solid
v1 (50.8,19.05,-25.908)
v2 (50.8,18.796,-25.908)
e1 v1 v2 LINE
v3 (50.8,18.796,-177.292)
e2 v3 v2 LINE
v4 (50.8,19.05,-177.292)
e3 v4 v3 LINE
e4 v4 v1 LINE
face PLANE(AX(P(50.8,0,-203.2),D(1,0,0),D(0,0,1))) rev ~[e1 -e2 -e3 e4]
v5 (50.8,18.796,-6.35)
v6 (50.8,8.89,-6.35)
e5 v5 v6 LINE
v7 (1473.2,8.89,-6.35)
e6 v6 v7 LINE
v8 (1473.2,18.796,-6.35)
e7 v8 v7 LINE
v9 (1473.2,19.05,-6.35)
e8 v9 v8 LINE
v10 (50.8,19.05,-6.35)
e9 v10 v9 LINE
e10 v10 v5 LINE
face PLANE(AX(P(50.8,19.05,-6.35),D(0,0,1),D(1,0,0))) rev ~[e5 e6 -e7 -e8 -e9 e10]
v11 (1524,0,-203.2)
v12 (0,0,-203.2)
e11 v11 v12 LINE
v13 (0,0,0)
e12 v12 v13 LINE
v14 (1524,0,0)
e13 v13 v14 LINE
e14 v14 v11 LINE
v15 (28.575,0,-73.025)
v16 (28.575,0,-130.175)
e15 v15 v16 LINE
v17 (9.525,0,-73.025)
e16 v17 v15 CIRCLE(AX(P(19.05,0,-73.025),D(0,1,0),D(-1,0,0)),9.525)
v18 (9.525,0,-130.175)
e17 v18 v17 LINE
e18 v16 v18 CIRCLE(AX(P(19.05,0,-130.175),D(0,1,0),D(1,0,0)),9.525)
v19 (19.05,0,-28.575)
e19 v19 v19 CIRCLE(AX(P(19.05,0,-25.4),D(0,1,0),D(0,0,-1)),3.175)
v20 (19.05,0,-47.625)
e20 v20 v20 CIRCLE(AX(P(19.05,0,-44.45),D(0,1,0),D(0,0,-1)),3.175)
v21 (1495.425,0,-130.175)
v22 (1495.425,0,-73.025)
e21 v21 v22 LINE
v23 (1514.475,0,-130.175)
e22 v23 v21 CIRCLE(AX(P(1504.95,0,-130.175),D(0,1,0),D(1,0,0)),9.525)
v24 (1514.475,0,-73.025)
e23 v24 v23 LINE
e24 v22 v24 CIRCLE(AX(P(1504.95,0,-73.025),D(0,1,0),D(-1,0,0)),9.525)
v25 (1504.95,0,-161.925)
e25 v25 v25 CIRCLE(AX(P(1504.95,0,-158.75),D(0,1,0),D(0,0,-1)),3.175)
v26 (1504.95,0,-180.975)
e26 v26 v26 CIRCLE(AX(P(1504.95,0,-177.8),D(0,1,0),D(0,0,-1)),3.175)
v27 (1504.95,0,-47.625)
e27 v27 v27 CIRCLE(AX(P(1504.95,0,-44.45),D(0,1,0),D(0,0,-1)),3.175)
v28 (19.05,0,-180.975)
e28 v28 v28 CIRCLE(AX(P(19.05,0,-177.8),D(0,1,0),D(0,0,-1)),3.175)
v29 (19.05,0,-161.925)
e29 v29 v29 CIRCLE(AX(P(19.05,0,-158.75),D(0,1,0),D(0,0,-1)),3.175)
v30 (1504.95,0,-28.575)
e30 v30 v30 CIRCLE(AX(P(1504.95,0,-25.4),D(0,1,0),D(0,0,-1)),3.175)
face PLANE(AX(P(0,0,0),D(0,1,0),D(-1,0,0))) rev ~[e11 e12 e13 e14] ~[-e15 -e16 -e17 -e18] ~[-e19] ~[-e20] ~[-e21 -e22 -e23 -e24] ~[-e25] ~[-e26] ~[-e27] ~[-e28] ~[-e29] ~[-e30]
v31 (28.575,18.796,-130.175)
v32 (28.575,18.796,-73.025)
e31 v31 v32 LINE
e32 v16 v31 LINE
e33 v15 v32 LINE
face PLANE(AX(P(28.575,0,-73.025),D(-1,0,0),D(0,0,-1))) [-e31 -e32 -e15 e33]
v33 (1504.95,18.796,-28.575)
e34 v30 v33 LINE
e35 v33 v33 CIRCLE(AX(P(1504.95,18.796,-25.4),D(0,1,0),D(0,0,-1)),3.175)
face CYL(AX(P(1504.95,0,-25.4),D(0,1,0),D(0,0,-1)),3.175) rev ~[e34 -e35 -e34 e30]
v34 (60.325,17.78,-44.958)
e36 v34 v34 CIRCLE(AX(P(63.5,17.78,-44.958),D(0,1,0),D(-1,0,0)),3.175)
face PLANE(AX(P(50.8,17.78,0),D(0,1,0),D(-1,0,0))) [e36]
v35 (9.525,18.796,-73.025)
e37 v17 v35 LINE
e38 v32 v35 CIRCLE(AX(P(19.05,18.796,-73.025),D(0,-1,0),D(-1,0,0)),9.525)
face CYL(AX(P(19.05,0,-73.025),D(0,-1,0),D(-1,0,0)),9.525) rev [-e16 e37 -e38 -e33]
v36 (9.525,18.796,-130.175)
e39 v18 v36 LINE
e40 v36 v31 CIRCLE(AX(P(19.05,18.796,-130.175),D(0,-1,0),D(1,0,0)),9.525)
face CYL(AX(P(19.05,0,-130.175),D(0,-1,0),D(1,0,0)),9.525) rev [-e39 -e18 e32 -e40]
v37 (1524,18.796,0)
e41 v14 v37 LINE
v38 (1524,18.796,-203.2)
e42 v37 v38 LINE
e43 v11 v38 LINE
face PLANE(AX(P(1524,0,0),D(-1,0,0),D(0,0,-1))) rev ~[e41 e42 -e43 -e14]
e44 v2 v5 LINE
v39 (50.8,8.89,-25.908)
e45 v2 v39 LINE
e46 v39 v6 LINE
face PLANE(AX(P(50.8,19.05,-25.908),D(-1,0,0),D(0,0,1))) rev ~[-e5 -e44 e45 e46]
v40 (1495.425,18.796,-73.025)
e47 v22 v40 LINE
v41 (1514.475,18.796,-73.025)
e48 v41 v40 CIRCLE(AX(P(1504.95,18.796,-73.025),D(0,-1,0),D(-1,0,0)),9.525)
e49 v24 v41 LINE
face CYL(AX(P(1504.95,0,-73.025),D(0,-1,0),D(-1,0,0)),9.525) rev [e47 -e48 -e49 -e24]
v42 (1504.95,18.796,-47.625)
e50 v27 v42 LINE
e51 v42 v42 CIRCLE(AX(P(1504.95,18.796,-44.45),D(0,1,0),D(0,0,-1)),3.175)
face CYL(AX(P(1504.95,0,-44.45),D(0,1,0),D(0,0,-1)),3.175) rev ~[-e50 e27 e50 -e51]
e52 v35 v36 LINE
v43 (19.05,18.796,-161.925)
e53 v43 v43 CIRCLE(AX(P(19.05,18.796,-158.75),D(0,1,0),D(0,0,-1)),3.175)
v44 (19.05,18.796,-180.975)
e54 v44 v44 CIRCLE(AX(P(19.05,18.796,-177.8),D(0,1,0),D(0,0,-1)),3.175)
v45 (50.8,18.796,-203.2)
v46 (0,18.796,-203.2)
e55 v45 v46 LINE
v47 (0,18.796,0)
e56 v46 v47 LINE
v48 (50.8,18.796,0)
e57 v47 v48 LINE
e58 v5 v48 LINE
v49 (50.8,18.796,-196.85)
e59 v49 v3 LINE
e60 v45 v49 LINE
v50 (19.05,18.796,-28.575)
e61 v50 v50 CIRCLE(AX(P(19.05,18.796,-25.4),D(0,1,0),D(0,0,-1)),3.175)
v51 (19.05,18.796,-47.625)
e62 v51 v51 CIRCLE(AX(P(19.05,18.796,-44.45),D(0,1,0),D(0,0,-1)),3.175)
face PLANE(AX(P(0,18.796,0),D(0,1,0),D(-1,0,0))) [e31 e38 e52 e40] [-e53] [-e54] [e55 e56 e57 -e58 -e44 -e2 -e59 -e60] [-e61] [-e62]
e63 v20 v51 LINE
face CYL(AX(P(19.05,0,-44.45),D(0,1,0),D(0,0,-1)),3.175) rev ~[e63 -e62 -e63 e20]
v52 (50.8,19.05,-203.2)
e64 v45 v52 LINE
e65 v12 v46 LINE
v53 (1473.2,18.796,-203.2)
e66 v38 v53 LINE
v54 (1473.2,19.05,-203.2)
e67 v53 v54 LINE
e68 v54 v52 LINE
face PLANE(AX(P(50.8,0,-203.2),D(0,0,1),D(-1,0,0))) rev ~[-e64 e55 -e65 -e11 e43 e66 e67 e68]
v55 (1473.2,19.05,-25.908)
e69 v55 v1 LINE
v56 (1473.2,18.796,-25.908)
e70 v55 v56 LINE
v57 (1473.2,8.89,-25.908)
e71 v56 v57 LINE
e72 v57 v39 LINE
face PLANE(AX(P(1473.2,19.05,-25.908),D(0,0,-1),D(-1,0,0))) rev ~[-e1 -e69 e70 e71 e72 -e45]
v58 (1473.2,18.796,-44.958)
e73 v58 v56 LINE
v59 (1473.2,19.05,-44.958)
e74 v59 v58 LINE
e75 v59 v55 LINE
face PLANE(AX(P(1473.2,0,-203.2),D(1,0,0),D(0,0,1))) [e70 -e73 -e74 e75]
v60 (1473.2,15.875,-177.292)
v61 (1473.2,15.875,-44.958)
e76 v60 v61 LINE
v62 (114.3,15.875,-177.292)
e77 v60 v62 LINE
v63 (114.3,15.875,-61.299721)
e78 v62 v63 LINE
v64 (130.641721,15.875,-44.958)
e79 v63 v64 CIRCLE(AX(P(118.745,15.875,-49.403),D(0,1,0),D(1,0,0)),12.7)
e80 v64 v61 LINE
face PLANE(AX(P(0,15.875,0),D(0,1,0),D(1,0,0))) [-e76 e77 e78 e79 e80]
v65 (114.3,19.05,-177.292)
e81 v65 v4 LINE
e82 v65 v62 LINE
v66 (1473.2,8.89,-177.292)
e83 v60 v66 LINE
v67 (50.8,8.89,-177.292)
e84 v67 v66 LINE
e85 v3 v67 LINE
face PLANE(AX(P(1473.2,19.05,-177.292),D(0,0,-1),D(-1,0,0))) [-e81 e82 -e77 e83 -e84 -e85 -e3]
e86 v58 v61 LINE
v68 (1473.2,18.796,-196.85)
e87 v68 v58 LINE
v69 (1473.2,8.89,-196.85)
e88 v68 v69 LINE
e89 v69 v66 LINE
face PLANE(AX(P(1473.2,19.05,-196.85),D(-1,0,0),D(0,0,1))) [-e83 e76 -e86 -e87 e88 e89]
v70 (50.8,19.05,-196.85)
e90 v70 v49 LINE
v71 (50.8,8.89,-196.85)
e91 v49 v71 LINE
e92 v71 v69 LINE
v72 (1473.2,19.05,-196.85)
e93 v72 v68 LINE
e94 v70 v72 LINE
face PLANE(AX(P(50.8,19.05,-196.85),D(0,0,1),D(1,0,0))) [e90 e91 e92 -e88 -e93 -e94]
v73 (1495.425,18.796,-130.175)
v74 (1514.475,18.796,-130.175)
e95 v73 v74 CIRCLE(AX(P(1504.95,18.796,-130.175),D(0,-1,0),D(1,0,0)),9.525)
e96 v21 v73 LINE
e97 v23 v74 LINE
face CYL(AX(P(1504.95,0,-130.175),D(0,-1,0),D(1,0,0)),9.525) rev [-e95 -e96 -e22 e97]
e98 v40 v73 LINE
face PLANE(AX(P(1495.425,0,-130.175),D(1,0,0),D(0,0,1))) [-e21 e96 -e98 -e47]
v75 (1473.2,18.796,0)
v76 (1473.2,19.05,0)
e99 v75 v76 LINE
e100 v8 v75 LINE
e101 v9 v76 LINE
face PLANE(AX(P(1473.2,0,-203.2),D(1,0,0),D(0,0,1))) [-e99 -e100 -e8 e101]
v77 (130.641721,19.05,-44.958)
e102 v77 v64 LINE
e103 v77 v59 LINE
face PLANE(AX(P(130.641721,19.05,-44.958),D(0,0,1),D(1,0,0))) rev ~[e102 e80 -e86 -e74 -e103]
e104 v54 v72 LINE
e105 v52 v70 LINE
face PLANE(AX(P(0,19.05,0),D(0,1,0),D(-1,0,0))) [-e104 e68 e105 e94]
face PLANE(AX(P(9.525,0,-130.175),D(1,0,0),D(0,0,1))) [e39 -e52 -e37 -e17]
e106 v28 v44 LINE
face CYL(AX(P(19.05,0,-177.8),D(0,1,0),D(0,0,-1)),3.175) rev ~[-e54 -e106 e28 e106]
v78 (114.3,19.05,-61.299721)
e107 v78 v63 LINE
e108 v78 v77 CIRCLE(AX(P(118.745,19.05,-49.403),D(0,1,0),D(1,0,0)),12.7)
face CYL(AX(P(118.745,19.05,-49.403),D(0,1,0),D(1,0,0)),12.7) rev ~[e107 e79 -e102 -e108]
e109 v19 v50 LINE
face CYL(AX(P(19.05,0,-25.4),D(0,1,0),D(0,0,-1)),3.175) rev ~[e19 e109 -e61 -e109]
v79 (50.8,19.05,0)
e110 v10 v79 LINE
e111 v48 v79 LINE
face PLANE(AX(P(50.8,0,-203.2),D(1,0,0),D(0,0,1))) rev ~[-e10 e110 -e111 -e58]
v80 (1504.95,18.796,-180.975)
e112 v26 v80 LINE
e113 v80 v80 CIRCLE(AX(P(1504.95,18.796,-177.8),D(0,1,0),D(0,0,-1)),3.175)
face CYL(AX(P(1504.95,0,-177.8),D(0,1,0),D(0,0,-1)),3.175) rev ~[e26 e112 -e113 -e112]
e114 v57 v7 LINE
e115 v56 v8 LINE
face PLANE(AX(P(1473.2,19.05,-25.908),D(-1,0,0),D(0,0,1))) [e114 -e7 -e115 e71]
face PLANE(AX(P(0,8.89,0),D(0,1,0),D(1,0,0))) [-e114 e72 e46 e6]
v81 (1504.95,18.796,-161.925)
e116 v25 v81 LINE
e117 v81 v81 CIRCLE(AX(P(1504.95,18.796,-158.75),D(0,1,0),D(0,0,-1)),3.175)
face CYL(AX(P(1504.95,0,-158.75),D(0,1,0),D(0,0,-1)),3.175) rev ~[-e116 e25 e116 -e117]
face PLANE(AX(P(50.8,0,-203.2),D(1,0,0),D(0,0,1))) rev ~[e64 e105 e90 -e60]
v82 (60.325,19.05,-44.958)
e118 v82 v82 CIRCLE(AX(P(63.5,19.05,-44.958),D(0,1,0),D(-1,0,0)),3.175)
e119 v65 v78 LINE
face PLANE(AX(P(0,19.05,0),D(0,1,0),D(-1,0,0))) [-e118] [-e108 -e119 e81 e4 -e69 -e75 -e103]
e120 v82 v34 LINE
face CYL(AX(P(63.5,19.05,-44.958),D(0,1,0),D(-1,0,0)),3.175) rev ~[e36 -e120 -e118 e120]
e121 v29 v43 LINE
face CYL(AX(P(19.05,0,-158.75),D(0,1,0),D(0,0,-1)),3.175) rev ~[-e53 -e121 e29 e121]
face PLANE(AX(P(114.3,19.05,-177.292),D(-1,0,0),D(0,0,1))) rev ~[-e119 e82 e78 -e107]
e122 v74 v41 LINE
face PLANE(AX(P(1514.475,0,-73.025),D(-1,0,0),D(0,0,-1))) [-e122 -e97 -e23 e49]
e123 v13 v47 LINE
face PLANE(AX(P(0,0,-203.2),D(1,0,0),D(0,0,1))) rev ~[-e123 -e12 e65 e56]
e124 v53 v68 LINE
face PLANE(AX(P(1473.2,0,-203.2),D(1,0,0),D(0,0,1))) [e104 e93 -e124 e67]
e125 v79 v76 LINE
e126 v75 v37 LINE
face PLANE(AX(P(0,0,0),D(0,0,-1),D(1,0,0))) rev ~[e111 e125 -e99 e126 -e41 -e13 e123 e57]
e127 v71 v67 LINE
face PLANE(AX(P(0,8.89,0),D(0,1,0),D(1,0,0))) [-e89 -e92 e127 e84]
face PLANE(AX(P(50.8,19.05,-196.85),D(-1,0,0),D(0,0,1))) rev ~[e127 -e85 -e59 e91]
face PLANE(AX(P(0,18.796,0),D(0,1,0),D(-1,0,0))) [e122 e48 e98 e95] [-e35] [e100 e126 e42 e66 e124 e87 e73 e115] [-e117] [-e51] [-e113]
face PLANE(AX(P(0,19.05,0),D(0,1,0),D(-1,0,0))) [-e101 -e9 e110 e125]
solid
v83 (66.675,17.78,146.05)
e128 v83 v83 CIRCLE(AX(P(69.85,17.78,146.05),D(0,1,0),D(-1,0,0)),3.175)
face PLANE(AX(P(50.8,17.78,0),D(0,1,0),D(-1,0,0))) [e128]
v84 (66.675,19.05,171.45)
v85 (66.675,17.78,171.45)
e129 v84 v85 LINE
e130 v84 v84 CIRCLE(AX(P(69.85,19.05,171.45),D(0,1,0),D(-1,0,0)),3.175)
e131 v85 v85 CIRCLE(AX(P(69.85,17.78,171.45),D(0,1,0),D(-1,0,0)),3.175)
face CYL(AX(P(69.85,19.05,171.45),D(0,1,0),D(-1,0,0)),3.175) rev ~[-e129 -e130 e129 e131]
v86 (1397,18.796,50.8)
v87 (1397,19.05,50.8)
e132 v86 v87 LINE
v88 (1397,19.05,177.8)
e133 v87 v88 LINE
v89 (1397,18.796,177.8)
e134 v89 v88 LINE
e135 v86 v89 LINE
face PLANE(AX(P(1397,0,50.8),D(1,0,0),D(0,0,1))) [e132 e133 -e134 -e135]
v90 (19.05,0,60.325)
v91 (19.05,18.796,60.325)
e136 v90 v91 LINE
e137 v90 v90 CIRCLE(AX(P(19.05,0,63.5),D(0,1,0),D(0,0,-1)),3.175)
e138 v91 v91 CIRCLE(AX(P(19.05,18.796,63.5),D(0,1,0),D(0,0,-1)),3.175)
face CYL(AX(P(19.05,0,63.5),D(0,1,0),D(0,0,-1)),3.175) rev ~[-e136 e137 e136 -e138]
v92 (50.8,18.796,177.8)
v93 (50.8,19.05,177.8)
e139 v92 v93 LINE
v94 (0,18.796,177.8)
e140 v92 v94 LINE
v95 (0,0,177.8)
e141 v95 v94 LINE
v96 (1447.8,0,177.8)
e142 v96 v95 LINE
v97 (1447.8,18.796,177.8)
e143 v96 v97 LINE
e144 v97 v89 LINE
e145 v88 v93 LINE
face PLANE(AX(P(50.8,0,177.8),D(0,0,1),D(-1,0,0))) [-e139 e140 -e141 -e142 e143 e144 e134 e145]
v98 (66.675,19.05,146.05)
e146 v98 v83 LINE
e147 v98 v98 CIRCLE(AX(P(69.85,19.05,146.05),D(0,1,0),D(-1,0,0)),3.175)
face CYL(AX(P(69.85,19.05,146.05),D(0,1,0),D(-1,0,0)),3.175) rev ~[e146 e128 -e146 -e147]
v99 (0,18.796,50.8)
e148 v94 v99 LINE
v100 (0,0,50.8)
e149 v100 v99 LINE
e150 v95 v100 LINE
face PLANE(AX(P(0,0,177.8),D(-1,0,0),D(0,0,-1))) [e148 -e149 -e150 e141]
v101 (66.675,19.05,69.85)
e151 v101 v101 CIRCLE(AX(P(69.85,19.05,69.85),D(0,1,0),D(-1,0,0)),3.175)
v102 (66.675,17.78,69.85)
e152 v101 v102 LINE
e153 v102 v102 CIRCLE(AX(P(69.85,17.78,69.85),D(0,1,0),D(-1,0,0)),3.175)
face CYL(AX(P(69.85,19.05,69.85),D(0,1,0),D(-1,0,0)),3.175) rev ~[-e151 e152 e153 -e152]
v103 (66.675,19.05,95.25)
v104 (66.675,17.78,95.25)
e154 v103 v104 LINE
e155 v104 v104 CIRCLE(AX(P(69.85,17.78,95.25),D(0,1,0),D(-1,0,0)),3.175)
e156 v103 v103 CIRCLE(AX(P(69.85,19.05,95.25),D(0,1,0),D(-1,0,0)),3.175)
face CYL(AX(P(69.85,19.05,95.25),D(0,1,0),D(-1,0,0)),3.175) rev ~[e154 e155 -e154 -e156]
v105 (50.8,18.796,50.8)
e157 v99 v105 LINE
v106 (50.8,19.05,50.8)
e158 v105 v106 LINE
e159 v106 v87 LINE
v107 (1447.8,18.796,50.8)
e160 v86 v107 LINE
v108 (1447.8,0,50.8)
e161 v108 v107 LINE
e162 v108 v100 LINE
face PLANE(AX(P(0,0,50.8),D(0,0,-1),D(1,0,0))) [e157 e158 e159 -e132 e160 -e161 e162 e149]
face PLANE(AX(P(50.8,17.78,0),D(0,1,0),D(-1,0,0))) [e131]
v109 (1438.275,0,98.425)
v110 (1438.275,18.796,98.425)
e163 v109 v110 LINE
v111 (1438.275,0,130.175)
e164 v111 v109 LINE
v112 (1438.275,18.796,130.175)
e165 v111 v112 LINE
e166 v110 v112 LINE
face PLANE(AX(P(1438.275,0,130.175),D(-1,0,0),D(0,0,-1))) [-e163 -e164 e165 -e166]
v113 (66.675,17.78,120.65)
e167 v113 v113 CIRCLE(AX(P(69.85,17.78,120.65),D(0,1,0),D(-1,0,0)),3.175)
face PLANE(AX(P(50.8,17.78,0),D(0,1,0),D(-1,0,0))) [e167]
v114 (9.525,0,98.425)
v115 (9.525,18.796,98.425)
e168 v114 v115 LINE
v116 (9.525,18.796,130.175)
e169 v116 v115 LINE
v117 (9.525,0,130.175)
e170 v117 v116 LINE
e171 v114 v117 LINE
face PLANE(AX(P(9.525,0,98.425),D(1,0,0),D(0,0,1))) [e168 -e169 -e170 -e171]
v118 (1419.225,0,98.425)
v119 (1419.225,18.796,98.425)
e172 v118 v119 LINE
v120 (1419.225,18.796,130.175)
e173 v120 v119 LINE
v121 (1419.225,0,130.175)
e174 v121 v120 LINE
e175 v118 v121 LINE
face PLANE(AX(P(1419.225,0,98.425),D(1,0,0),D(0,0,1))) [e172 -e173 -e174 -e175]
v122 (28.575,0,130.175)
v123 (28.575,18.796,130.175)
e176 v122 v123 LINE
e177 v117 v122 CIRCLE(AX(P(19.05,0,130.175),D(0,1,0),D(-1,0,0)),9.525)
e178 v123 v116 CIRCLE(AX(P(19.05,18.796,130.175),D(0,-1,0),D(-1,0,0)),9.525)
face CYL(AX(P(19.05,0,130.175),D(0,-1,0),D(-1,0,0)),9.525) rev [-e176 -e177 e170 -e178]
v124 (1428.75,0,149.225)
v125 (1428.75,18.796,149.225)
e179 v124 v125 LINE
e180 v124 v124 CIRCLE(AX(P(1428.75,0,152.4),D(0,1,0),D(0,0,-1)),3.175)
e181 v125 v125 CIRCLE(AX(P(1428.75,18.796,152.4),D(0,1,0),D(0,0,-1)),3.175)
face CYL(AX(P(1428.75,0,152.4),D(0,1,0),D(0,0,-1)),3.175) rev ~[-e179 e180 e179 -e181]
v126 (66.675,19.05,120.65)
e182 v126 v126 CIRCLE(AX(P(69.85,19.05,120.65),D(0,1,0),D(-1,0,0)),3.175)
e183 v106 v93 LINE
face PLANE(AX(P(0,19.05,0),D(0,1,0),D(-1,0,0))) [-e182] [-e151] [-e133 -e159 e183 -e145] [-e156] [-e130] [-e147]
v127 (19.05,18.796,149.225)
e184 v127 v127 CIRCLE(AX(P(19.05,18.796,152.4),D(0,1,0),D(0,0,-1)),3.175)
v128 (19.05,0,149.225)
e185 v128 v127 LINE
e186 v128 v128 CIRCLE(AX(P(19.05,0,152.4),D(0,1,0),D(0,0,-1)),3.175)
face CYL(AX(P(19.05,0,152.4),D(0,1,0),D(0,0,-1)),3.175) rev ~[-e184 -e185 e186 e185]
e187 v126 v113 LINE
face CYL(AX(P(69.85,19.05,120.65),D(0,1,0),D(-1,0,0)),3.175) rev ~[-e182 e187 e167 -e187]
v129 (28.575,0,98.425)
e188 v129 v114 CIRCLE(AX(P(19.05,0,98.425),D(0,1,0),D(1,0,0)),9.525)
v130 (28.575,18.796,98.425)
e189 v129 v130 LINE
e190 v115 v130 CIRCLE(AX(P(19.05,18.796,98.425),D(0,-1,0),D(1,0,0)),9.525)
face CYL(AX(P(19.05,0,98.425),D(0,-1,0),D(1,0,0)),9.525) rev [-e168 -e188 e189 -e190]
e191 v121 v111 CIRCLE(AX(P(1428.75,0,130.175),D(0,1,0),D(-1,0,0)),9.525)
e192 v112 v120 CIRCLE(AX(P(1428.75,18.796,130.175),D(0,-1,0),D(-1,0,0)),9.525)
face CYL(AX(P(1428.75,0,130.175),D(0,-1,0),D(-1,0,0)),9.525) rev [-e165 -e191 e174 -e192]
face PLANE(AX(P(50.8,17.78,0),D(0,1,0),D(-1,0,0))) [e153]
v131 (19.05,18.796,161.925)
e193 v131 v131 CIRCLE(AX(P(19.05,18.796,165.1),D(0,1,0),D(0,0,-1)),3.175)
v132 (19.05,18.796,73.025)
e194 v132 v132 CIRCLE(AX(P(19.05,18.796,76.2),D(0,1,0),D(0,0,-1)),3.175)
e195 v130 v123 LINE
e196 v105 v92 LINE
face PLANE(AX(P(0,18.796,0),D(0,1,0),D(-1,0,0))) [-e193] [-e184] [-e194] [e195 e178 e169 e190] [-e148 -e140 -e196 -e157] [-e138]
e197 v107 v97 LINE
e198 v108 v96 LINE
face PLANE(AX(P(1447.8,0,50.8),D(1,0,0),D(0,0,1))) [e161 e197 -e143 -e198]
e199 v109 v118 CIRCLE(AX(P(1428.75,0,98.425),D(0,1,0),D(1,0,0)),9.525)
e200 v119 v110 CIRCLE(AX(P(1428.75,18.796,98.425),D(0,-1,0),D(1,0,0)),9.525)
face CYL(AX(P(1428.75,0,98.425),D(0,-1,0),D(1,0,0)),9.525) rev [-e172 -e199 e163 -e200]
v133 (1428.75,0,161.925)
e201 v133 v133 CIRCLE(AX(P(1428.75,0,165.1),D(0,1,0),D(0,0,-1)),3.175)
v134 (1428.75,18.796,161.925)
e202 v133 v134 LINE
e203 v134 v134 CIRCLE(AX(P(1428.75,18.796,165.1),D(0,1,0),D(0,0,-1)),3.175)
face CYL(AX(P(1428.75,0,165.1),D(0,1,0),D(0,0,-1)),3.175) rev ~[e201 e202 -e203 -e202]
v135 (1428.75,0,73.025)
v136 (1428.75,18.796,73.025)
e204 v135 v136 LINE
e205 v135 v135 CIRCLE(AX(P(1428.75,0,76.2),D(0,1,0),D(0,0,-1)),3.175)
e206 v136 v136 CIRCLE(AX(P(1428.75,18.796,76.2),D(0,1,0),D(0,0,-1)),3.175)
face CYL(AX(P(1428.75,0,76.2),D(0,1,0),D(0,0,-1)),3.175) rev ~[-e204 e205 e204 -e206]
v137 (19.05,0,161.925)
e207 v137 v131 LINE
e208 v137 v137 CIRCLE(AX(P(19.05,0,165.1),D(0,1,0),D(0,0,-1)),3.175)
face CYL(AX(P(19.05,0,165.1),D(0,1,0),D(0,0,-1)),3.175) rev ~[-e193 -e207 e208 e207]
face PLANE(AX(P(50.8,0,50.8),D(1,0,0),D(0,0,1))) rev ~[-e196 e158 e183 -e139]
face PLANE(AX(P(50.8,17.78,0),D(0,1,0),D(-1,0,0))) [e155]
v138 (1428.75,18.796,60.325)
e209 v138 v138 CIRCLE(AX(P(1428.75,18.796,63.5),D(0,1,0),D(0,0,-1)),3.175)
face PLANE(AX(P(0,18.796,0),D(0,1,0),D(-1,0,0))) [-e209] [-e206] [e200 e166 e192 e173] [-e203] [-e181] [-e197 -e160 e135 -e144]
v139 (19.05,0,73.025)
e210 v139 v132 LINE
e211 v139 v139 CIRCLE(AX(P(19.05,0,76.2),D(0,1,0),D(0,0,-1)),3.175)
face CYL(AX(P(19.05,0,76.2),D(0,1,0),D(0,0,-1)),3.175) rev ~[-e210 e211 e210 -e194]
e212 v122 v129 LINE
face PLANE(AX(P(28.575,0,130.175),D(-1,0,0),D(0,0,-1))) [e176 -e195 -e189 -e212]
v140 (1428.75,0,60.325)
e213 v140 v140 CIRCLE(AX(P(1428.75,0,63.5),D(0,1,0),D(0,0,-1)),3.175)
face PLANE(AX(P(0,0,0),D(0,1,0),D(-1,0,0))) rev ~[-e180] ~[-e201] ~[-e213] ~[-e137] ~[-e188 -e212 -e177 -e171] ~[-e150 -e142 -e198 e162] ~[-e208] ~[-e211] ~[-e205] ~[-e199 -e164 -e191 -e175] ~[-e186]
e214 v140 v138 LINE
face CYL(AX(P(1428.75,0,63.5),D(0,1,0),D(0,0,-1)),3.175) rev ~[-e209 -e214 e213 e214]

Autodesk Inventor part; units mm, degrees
ref_plane "YZ Plane" through (0, 0, 0) normal (1, 0, 0) x (0, 1, 0)
ref_plane "XY Plane" through (0, 0, 0) normal (0, 0, 1) x (1, 0, 0)
sketch "Base Sketch" plane through (0, 0, 0) normal (0, 1, 0) x (-1, 0, 0)
  line L0 (0, 0) -> (-50.8, 0)
  line L1 (-1524, 0) -> (-1524, -203.2)
  line L2 (-1524, -203.2) -> (-1473.2, -203.2)
  line L3 (0, -203.2) -> (0, 0)
  line L4 (-50.8, -203.2) -> (-50.8, 0)
  line L5 (-1473.2, -203.2) -> (-1473.2, 0)
  line L6 (-50.8, 0) -> (-1473.2, 0)
  line L7 (-1473.2, 0) -> (-1524, 0)
  line L8 (-50.8, -203.2) -> (0, -203.2)
  line L9 (-1473.2, -203.2) -> (-50.8, -203.2)
  line L10 (0, 50.8) -> (-50.8, 50.8)
  line L11 (-1447.8, 50.8) -> (-1447.8, 177.8)
  line L12 (-1447.8, 177.8) -> (-1397, 177.8)
  line L13 (0, 177.8) -> (0, 50.8)
  line L14 (-50.8, 50.8) -> (-50.8, 177.8)
  line L15 (-1397, 50.8) -> (-1397, 177.8)
  line L16 (-50.8, 50.8) -> (-1397, 50.8)
  line L17 (-1397, 50.8) -> (-1447.8, 50.8)
  line L18 (-50.8, 177.8) -> (0, 177.8)
  line L19 (-1397, 177.8) -> (-50.8, 177.8)
  line L20 (-82.55, 69.85) -> (-1365.25, 69.85) construction
  line L21 (-1365.25, 69.85) -> (-1365.25, 158.75) construction
  line L22 (-1365.25, 158.75) -> (-82.55, 158.75) construction
  line L23 (-82.55, 158.75) -> (-82.55, 69.85) construction
  line L24 (-1384.3, 50.8) -> (-1384.3, 177.8) construction
  line L25 (-63.5, 50.8) -> (-63.5, 177.8) construction
  line L26 (-63.5, 0) -> (-63.5, -203.2) construction
  line L27 (-1460.5, 0) -> (-1460.5, -203.2) construction
  dimension "d0" = 1524
  dimension "d1" = 203.2
  dimension "d2" = 50.8
  dimension "d3" = 50.8
  dimension "d67" = 1447.8
  dimension "d68" = 127
  dimension "d69" = 50.8
  dimension "d70" = 50.8
  dimension "d71" = 50.8
  dimension "d99" = 12.7
  dimension "d100" = 12.7
  dimension "d101" = 19.05
  dimension "d102" = 19.05
  dimension "d103" = 19.05
  dimension "d104" = 19.05
  dimension "d105" = 12.7
  dimension "d106" = 12.7
extrude "Lower Level" add sketch "Base Sketch" along normal blind 18.796 contours L3 L8 L4 L0 | L5 L2 L1 L7 | L10 L14 L18 L13 | L17 L11 L12 L15
extrude "Base" add sketch "Base Sketch" along normal blind 19.05 contours L4 L9 L5 L6 | L16 L15 L19 L14
sketch "Handles Sketch" plane through (0, 0, 0) normal (0, 1, 0) x (-1, 0, 0)
  line L0 (-19.05, -139.7) -> (-19.05, -63.5) construction
  line L1 (-9.525, -130.175) -> (-9.525, -73.025)
  line L2 (-28.575, -73.025) -> (-28.575, -130.175)
  arc A0 (-28.575, -130.175) -> (-9.525, -130.175) centre (-19.05, -130.175) ccw
  arc A1 (-9.525, -73.025) -> (-28.575, -73.025) centre (-19.05, -73.025) ccw
  line L3 (-1524, -203.2) -> (0, -203.2) projected
  line L4 (0, 0) -> (-1524, 0) projected
  line L5 (0, -203.2) -> (0, 0) projected
  line L6 (-1524, 0) -> (-1524, -203.2) projected
  line L7 (-1504.95, -139.7) -> (-1504.95, -63.5) construction
  line L8 (-1495.425, -130.175) -> (-1495.425, -73.025)
  line L9 (-1514.475, -73.025) -> (-1514.475, -130.175)
  arc A2 (-1514.475, -130.175) -> (-1495.425, -130.175) centre (-1504.95, -130.175) ccw
  arc A3 (-1495.425, -73.025) -> (-1514.475, -73.025) centre (-1504.95, -73.025) ccw
  line L10 (0, 177.8) -> (-1447.8, 177.8) projected
  line L11 (-1447.8, 50.8) -> (0, 50.8) projected
  line L12 (0, 50.8) -> (0, 177.8) projected
  line L13 (-1447.8, 177.8) -> (-1447.8, 50.8) projected
  line L14 (-19.05, 139.7) -> (-19.05, 88.9) construction
  line L15 (-28.575, 130.175) -> (-28.575, 98.425)
  line L16 (-9.525, 98.425) -> (-9.525, 130.175)
  arc A4 (-9.525, 130.175) -> (-28.575, 130.175) centre (-19.05, 130.175) ccw
  arc A5 (-28.575, 98.425) -> (-9.525, 98.425) centre (-19.05, 98.425) ccw
  line L17 (-1428.75, 139.7) -> (-1428.75, 88.9) construction
  line L18 (-1438.275, 130.175) -> (-1438.275, 98.425)
  line L19 (-1419.225, 98.425) -> (-1419.225, 130.175)
  arc A6 (-1419.225, 130.175) -> (-1438.275, 130.175) centre (-1428.75, 130.175) ccw
  arc A7 (-1438.275, 98.425) -> (-1419.225, 98.425) centre (-1428.75, 98.425) ccw
  point P0 (-19.05, -177.8)
  point P1 (-19.05, -158.75)
  point P2 (-19.05, -44.45)
  point P3 (-19.05, -25.4)
  point P4 (-1504.95, -25.4)
  point P5 (-1504.95, -44.45)
  point P6 (-1504.95, -158.75)
  point P7 (-1504.95, -177.8)
  point P8 (-19.05, -101.6)
  point P9 (-1504.95, -101.6)
  point P10 (-19.05, 63.5)
  point P11 (-19.05, 76.2)
  point P12 (-19.05, 152.4)
  point P13 (-19.05, 165.1)
  point P14 (-1428.75, 165.1)
  point P15 (-1428.75, 152.4)
  point P16 (-1428.75, 76.2)
  point P17 (-1428.75, 63.5)
  point P18 (-19.05, 114.3)
  point P19 (-1428.75, 114.3)
  dimension "d5" = 19.05
  dimension "d6" = 25.4
  dimension "d7" = 19.05
  dimension "d8" = 19.05
  dimension "d9" = 19.05
  dimension "d10" = 19.05
  dimension "d11" = 19.05
  dimension "d12" = 25.4
  dimension "d13" = 19.05
  dimension "d14" = 76.2
  dimension "d15" = 19.05
  dimension "d16" = 19.05
  dimension "d17" = 19.05
  dimension "d18" = 25.4
  dimension "d19" = 19.05
  dimension "d21" = 19.05
  dimension "d22" = 19.05
  dimension "d25" = 19.05
  dimension "d26" = 19.05
  dimension "d27" = 19.05
  dimension "d28" = 25.4
  dimension "d29" = 19.05
  dimension "d30" = 19.05
  dimension "d31" = 19.05
  dimension "d32" = 76.2
  dimension "d72" = 12.7
  dimension "d73" = 12.7
  dimension "d74" = 12.7
  dimension "d75" = 12.7
  dimension "d76" = 19.05
  dimension "d77" = 19.05
  dimension "d78" = 12.7
  dimension "d79" = 12.7
  dimension "d80" = 12.7
  dimension "d81" = 12.7
  dimension "d83" = 19.05
  dimension "d84" = 12.7
  dimension "d85" = 12.7
  dimension "d86" = 19.05
  dimension "d87" = 12.7
  dimension "d88" = 12.7
extrude "Extrusion3" cut sketch "Handles Sketch" along normal through all contours A0 L2 A1 L1 | A2 L9 A3 L8 | A4 L16 A5 L15 | A6 L19 A7 L18
hole "Hole1" at (19.05, 0, 165.1) at (19.05, 0, 152.4) at (19.05, 0, 76.2) at (19.05, 0, 63.5) at (19.05, 0, -25.4) at (19.05, 0, -44.45) at (19.05, 0, -158.75) at (19.05, 0, -177.8) at (1428.75, 0, 165.1) at (1428.75, 0, 152.4) at (1428.75, 0, 76.2) at (1428.75, 0, 63.5) at (1504.95, 0, -25.4) at (1504.95, 0, -44.45) at (1504.95, 0, -158.75) at (1504.95, 0, -177.8) direction (0, 1, 0) diameter 6.35 end through all
ref_plane "Work Plane1" through (50.8, 19.05, 0) normal (0, 1, 0) x (-1, 0, 0)
sketch "Pocket Level Sketch" plane through (0, 19.05, 0) normal (0, 1, 0) x (1, 0, 0)
  line L0 (1473.2, 203.2) -> (1473.2, 0) projected
  line L1 (50.8, 6.35) -> (1473.2, 6.35)
  line L2 (1473.2, 6.35) -> (1473.2, 25.908)
  line L3 (1473.2, 25.908) -> (50.8, 25.908)
  line L4 (50.8, 25.908) -> (50.8, 6.35)
  line L5 (50.8, 203.2) -> (50.8, 0) projected
  line L6 (50.8, 196.85) -> (1473.2, 196.85)
  line L7 (1473.2, 196.85) -> (1473.2, 177.292)
  line L8 (1473.2, 177.292) -> (50.8, 177.292)
  line L9 (50.8, 177.292) -> (50.8, 196.85)
  line L10 (1473.2, 203.2) -> (50.8, 203.2) projected
  line L11 (50.8, 0) -> (1473.2, 0) projected
  line L12 (114.3, 44.958) -> (1473.2, 44.958)
  line L13 (1473.2, 44.958) -> (1473.2, 177.292)
  line L14 (1473.2, 177.292) -> (114.3, 177.292)
  line L15 (114.3, 177.292) -> (114.3, 44.958)
  circle A0 centre (118.745, 49.403) radius 12.7
  point P0 (0, 0)
  dimension "d39" = 19.558
  dimension "d40" = 6.35
  dimension "d41" = 19.558
  dimension "d42" = 6.35
  dimension "d44" = 63.5
  dimension "d45" = 19.05
  dimension "d50" = 25.4
  dimension "d51" = 4.445
  dimension "d52" = 4.445
extrude "Bed Cut" cut sketch "Pocket Level Sketch" against normal blind 3.175 contours L0 L12 A0 L15 L8 | A0 L15 L12 | L12 L15 A0
extrude "Tracks Cut" cut sketch "Pocket Level Sketch" against normal blind 10.16 contours L0 L8 L5 L6 | L0 L1 L4 L3
sketch "Origin Sketch" plane through (50.8, 19.05, 0) normal (0, 1, 0) x (-1, 0, 0)
  line L0 (-12.7, 50.8) -> (-12.7, 177.8) construction
  line L1 (-31.75, 158.75) -> (-31.75, 69.85) construction
  line L2 (-1314.45, 158.75) -> (-31.75, 158.75) construction
  line L3 (-31.75, 69.85) -> (-1314.45, 69.85) construction
  line L4 (-1314.45, 69.85) -> (-1314.45, 158.75) construction
  line L5 (-1333.5, 50.8) -> (-1333.5, 177.8) construction
  line L6 (-12.7, 0) -> (-12.7, -203.2) construction
  line L7 (-1409.7, 0) -> (-1409.7, -203.2) construction
  line L8 (0, -203.2) -> (0, 0) projected
  line L9 (50.8, 0) -> (-1473.2, 0) projected
  line L10 (-1473.2, -203.2) -> (50.8, -203.2) projected
  line L11 (0, 50.8) -> (-1346.2, 50.8) projected
  line L12 (0, 50.8) -> (0, 177.8) projected
  line L13 (50.8, 177.8) -> (-1397, 177.8) projected
  line L14 (-1422.4, -44.958) -> (-79.8417, -44.958) projected
  point P0 (-12.7, -44.958)
  point P1 (-19.05, 171.45)
  dimension "d107" = 0
  dimension "d109" = 6.35
  dimension "d110" = 6.35
sketch "Registration Sketch" plane through (50.8, 19.05, 0) normal (0, 1, 0) x (-1, 0, 0)
  circle A0 centre (-12.7, -44.958) radius 3.175
  circle A1 centre (-19.05, 171.45) radius 3.175
  line L0 (0, 50.8) -> (0, 177.8) projected
  circle A2 centre (-19.05, 146.05) radius 3.175
  circle A3 centre (-19.05, 120.65) radius 3.175
  circle A4 centre (-19.05, 95.25) radius 3.175
  circle A5 centre (-19.05, 69.85) radius 3.175
  point P0 (50.8, 0)
  dimension "d96" = 6.35
  dimension "d111" = 6.35
  dimension "d114" = 25.4
extrude "Registration Hole" cut sketch "Registration Sketch" against normal blind 1.27
equation "\"d70\" = d2"
equation "\"d71\" = d3"
equation "\"d100\" = d99"
equation "\"d102\" = d101"
equation "\"d103\" = d102"
equation "\"d104\" = d102"
equation "\"d105\" = d100"
equation "\"d106\" = d99"
equation "\"d7\" = d17"
equation "\"d10\" = d7"
equation "\"d11\" = d10"
equation "\"d12\" = d6"
equation "\"d13\" = d8"
equation "\"d15\" = d8"
equation "\"d16\" = d13"
equation "\"d17\" = d9"
equation "\"d18\" = d6"
equation "\"d19\" = d8"
equation "\"d21\" = d9"
equation "\"d22\" = d21"
equation "\"d25\" = d13"
equation "\"d26\" = d22"
equation "\"d27\" = d21"
equation "\"d28\" = d12"
equation "\"d30\" = d19"
equation "\"d31\" = d30"
equation "\"d32\" = d14"
equation "\"d74\" = d72"
equation "\"d75\" = d73"
equation "\"d77\" = d76"
equation "\"d78\" = d72"
equation "\"d79\" = d73"
equation "\"d80\" = d75"
equation "\"d81\" = d74"
equation "\"d85\" = d84"
equation "\"d87\" = d84"
equation "\"d88\" = d85"
equation "\"d40\" = d42"
equation "\"d41\" = d39"
equation "\"d52\" = d51"
properties part number "Pedestal Fixture Base"
